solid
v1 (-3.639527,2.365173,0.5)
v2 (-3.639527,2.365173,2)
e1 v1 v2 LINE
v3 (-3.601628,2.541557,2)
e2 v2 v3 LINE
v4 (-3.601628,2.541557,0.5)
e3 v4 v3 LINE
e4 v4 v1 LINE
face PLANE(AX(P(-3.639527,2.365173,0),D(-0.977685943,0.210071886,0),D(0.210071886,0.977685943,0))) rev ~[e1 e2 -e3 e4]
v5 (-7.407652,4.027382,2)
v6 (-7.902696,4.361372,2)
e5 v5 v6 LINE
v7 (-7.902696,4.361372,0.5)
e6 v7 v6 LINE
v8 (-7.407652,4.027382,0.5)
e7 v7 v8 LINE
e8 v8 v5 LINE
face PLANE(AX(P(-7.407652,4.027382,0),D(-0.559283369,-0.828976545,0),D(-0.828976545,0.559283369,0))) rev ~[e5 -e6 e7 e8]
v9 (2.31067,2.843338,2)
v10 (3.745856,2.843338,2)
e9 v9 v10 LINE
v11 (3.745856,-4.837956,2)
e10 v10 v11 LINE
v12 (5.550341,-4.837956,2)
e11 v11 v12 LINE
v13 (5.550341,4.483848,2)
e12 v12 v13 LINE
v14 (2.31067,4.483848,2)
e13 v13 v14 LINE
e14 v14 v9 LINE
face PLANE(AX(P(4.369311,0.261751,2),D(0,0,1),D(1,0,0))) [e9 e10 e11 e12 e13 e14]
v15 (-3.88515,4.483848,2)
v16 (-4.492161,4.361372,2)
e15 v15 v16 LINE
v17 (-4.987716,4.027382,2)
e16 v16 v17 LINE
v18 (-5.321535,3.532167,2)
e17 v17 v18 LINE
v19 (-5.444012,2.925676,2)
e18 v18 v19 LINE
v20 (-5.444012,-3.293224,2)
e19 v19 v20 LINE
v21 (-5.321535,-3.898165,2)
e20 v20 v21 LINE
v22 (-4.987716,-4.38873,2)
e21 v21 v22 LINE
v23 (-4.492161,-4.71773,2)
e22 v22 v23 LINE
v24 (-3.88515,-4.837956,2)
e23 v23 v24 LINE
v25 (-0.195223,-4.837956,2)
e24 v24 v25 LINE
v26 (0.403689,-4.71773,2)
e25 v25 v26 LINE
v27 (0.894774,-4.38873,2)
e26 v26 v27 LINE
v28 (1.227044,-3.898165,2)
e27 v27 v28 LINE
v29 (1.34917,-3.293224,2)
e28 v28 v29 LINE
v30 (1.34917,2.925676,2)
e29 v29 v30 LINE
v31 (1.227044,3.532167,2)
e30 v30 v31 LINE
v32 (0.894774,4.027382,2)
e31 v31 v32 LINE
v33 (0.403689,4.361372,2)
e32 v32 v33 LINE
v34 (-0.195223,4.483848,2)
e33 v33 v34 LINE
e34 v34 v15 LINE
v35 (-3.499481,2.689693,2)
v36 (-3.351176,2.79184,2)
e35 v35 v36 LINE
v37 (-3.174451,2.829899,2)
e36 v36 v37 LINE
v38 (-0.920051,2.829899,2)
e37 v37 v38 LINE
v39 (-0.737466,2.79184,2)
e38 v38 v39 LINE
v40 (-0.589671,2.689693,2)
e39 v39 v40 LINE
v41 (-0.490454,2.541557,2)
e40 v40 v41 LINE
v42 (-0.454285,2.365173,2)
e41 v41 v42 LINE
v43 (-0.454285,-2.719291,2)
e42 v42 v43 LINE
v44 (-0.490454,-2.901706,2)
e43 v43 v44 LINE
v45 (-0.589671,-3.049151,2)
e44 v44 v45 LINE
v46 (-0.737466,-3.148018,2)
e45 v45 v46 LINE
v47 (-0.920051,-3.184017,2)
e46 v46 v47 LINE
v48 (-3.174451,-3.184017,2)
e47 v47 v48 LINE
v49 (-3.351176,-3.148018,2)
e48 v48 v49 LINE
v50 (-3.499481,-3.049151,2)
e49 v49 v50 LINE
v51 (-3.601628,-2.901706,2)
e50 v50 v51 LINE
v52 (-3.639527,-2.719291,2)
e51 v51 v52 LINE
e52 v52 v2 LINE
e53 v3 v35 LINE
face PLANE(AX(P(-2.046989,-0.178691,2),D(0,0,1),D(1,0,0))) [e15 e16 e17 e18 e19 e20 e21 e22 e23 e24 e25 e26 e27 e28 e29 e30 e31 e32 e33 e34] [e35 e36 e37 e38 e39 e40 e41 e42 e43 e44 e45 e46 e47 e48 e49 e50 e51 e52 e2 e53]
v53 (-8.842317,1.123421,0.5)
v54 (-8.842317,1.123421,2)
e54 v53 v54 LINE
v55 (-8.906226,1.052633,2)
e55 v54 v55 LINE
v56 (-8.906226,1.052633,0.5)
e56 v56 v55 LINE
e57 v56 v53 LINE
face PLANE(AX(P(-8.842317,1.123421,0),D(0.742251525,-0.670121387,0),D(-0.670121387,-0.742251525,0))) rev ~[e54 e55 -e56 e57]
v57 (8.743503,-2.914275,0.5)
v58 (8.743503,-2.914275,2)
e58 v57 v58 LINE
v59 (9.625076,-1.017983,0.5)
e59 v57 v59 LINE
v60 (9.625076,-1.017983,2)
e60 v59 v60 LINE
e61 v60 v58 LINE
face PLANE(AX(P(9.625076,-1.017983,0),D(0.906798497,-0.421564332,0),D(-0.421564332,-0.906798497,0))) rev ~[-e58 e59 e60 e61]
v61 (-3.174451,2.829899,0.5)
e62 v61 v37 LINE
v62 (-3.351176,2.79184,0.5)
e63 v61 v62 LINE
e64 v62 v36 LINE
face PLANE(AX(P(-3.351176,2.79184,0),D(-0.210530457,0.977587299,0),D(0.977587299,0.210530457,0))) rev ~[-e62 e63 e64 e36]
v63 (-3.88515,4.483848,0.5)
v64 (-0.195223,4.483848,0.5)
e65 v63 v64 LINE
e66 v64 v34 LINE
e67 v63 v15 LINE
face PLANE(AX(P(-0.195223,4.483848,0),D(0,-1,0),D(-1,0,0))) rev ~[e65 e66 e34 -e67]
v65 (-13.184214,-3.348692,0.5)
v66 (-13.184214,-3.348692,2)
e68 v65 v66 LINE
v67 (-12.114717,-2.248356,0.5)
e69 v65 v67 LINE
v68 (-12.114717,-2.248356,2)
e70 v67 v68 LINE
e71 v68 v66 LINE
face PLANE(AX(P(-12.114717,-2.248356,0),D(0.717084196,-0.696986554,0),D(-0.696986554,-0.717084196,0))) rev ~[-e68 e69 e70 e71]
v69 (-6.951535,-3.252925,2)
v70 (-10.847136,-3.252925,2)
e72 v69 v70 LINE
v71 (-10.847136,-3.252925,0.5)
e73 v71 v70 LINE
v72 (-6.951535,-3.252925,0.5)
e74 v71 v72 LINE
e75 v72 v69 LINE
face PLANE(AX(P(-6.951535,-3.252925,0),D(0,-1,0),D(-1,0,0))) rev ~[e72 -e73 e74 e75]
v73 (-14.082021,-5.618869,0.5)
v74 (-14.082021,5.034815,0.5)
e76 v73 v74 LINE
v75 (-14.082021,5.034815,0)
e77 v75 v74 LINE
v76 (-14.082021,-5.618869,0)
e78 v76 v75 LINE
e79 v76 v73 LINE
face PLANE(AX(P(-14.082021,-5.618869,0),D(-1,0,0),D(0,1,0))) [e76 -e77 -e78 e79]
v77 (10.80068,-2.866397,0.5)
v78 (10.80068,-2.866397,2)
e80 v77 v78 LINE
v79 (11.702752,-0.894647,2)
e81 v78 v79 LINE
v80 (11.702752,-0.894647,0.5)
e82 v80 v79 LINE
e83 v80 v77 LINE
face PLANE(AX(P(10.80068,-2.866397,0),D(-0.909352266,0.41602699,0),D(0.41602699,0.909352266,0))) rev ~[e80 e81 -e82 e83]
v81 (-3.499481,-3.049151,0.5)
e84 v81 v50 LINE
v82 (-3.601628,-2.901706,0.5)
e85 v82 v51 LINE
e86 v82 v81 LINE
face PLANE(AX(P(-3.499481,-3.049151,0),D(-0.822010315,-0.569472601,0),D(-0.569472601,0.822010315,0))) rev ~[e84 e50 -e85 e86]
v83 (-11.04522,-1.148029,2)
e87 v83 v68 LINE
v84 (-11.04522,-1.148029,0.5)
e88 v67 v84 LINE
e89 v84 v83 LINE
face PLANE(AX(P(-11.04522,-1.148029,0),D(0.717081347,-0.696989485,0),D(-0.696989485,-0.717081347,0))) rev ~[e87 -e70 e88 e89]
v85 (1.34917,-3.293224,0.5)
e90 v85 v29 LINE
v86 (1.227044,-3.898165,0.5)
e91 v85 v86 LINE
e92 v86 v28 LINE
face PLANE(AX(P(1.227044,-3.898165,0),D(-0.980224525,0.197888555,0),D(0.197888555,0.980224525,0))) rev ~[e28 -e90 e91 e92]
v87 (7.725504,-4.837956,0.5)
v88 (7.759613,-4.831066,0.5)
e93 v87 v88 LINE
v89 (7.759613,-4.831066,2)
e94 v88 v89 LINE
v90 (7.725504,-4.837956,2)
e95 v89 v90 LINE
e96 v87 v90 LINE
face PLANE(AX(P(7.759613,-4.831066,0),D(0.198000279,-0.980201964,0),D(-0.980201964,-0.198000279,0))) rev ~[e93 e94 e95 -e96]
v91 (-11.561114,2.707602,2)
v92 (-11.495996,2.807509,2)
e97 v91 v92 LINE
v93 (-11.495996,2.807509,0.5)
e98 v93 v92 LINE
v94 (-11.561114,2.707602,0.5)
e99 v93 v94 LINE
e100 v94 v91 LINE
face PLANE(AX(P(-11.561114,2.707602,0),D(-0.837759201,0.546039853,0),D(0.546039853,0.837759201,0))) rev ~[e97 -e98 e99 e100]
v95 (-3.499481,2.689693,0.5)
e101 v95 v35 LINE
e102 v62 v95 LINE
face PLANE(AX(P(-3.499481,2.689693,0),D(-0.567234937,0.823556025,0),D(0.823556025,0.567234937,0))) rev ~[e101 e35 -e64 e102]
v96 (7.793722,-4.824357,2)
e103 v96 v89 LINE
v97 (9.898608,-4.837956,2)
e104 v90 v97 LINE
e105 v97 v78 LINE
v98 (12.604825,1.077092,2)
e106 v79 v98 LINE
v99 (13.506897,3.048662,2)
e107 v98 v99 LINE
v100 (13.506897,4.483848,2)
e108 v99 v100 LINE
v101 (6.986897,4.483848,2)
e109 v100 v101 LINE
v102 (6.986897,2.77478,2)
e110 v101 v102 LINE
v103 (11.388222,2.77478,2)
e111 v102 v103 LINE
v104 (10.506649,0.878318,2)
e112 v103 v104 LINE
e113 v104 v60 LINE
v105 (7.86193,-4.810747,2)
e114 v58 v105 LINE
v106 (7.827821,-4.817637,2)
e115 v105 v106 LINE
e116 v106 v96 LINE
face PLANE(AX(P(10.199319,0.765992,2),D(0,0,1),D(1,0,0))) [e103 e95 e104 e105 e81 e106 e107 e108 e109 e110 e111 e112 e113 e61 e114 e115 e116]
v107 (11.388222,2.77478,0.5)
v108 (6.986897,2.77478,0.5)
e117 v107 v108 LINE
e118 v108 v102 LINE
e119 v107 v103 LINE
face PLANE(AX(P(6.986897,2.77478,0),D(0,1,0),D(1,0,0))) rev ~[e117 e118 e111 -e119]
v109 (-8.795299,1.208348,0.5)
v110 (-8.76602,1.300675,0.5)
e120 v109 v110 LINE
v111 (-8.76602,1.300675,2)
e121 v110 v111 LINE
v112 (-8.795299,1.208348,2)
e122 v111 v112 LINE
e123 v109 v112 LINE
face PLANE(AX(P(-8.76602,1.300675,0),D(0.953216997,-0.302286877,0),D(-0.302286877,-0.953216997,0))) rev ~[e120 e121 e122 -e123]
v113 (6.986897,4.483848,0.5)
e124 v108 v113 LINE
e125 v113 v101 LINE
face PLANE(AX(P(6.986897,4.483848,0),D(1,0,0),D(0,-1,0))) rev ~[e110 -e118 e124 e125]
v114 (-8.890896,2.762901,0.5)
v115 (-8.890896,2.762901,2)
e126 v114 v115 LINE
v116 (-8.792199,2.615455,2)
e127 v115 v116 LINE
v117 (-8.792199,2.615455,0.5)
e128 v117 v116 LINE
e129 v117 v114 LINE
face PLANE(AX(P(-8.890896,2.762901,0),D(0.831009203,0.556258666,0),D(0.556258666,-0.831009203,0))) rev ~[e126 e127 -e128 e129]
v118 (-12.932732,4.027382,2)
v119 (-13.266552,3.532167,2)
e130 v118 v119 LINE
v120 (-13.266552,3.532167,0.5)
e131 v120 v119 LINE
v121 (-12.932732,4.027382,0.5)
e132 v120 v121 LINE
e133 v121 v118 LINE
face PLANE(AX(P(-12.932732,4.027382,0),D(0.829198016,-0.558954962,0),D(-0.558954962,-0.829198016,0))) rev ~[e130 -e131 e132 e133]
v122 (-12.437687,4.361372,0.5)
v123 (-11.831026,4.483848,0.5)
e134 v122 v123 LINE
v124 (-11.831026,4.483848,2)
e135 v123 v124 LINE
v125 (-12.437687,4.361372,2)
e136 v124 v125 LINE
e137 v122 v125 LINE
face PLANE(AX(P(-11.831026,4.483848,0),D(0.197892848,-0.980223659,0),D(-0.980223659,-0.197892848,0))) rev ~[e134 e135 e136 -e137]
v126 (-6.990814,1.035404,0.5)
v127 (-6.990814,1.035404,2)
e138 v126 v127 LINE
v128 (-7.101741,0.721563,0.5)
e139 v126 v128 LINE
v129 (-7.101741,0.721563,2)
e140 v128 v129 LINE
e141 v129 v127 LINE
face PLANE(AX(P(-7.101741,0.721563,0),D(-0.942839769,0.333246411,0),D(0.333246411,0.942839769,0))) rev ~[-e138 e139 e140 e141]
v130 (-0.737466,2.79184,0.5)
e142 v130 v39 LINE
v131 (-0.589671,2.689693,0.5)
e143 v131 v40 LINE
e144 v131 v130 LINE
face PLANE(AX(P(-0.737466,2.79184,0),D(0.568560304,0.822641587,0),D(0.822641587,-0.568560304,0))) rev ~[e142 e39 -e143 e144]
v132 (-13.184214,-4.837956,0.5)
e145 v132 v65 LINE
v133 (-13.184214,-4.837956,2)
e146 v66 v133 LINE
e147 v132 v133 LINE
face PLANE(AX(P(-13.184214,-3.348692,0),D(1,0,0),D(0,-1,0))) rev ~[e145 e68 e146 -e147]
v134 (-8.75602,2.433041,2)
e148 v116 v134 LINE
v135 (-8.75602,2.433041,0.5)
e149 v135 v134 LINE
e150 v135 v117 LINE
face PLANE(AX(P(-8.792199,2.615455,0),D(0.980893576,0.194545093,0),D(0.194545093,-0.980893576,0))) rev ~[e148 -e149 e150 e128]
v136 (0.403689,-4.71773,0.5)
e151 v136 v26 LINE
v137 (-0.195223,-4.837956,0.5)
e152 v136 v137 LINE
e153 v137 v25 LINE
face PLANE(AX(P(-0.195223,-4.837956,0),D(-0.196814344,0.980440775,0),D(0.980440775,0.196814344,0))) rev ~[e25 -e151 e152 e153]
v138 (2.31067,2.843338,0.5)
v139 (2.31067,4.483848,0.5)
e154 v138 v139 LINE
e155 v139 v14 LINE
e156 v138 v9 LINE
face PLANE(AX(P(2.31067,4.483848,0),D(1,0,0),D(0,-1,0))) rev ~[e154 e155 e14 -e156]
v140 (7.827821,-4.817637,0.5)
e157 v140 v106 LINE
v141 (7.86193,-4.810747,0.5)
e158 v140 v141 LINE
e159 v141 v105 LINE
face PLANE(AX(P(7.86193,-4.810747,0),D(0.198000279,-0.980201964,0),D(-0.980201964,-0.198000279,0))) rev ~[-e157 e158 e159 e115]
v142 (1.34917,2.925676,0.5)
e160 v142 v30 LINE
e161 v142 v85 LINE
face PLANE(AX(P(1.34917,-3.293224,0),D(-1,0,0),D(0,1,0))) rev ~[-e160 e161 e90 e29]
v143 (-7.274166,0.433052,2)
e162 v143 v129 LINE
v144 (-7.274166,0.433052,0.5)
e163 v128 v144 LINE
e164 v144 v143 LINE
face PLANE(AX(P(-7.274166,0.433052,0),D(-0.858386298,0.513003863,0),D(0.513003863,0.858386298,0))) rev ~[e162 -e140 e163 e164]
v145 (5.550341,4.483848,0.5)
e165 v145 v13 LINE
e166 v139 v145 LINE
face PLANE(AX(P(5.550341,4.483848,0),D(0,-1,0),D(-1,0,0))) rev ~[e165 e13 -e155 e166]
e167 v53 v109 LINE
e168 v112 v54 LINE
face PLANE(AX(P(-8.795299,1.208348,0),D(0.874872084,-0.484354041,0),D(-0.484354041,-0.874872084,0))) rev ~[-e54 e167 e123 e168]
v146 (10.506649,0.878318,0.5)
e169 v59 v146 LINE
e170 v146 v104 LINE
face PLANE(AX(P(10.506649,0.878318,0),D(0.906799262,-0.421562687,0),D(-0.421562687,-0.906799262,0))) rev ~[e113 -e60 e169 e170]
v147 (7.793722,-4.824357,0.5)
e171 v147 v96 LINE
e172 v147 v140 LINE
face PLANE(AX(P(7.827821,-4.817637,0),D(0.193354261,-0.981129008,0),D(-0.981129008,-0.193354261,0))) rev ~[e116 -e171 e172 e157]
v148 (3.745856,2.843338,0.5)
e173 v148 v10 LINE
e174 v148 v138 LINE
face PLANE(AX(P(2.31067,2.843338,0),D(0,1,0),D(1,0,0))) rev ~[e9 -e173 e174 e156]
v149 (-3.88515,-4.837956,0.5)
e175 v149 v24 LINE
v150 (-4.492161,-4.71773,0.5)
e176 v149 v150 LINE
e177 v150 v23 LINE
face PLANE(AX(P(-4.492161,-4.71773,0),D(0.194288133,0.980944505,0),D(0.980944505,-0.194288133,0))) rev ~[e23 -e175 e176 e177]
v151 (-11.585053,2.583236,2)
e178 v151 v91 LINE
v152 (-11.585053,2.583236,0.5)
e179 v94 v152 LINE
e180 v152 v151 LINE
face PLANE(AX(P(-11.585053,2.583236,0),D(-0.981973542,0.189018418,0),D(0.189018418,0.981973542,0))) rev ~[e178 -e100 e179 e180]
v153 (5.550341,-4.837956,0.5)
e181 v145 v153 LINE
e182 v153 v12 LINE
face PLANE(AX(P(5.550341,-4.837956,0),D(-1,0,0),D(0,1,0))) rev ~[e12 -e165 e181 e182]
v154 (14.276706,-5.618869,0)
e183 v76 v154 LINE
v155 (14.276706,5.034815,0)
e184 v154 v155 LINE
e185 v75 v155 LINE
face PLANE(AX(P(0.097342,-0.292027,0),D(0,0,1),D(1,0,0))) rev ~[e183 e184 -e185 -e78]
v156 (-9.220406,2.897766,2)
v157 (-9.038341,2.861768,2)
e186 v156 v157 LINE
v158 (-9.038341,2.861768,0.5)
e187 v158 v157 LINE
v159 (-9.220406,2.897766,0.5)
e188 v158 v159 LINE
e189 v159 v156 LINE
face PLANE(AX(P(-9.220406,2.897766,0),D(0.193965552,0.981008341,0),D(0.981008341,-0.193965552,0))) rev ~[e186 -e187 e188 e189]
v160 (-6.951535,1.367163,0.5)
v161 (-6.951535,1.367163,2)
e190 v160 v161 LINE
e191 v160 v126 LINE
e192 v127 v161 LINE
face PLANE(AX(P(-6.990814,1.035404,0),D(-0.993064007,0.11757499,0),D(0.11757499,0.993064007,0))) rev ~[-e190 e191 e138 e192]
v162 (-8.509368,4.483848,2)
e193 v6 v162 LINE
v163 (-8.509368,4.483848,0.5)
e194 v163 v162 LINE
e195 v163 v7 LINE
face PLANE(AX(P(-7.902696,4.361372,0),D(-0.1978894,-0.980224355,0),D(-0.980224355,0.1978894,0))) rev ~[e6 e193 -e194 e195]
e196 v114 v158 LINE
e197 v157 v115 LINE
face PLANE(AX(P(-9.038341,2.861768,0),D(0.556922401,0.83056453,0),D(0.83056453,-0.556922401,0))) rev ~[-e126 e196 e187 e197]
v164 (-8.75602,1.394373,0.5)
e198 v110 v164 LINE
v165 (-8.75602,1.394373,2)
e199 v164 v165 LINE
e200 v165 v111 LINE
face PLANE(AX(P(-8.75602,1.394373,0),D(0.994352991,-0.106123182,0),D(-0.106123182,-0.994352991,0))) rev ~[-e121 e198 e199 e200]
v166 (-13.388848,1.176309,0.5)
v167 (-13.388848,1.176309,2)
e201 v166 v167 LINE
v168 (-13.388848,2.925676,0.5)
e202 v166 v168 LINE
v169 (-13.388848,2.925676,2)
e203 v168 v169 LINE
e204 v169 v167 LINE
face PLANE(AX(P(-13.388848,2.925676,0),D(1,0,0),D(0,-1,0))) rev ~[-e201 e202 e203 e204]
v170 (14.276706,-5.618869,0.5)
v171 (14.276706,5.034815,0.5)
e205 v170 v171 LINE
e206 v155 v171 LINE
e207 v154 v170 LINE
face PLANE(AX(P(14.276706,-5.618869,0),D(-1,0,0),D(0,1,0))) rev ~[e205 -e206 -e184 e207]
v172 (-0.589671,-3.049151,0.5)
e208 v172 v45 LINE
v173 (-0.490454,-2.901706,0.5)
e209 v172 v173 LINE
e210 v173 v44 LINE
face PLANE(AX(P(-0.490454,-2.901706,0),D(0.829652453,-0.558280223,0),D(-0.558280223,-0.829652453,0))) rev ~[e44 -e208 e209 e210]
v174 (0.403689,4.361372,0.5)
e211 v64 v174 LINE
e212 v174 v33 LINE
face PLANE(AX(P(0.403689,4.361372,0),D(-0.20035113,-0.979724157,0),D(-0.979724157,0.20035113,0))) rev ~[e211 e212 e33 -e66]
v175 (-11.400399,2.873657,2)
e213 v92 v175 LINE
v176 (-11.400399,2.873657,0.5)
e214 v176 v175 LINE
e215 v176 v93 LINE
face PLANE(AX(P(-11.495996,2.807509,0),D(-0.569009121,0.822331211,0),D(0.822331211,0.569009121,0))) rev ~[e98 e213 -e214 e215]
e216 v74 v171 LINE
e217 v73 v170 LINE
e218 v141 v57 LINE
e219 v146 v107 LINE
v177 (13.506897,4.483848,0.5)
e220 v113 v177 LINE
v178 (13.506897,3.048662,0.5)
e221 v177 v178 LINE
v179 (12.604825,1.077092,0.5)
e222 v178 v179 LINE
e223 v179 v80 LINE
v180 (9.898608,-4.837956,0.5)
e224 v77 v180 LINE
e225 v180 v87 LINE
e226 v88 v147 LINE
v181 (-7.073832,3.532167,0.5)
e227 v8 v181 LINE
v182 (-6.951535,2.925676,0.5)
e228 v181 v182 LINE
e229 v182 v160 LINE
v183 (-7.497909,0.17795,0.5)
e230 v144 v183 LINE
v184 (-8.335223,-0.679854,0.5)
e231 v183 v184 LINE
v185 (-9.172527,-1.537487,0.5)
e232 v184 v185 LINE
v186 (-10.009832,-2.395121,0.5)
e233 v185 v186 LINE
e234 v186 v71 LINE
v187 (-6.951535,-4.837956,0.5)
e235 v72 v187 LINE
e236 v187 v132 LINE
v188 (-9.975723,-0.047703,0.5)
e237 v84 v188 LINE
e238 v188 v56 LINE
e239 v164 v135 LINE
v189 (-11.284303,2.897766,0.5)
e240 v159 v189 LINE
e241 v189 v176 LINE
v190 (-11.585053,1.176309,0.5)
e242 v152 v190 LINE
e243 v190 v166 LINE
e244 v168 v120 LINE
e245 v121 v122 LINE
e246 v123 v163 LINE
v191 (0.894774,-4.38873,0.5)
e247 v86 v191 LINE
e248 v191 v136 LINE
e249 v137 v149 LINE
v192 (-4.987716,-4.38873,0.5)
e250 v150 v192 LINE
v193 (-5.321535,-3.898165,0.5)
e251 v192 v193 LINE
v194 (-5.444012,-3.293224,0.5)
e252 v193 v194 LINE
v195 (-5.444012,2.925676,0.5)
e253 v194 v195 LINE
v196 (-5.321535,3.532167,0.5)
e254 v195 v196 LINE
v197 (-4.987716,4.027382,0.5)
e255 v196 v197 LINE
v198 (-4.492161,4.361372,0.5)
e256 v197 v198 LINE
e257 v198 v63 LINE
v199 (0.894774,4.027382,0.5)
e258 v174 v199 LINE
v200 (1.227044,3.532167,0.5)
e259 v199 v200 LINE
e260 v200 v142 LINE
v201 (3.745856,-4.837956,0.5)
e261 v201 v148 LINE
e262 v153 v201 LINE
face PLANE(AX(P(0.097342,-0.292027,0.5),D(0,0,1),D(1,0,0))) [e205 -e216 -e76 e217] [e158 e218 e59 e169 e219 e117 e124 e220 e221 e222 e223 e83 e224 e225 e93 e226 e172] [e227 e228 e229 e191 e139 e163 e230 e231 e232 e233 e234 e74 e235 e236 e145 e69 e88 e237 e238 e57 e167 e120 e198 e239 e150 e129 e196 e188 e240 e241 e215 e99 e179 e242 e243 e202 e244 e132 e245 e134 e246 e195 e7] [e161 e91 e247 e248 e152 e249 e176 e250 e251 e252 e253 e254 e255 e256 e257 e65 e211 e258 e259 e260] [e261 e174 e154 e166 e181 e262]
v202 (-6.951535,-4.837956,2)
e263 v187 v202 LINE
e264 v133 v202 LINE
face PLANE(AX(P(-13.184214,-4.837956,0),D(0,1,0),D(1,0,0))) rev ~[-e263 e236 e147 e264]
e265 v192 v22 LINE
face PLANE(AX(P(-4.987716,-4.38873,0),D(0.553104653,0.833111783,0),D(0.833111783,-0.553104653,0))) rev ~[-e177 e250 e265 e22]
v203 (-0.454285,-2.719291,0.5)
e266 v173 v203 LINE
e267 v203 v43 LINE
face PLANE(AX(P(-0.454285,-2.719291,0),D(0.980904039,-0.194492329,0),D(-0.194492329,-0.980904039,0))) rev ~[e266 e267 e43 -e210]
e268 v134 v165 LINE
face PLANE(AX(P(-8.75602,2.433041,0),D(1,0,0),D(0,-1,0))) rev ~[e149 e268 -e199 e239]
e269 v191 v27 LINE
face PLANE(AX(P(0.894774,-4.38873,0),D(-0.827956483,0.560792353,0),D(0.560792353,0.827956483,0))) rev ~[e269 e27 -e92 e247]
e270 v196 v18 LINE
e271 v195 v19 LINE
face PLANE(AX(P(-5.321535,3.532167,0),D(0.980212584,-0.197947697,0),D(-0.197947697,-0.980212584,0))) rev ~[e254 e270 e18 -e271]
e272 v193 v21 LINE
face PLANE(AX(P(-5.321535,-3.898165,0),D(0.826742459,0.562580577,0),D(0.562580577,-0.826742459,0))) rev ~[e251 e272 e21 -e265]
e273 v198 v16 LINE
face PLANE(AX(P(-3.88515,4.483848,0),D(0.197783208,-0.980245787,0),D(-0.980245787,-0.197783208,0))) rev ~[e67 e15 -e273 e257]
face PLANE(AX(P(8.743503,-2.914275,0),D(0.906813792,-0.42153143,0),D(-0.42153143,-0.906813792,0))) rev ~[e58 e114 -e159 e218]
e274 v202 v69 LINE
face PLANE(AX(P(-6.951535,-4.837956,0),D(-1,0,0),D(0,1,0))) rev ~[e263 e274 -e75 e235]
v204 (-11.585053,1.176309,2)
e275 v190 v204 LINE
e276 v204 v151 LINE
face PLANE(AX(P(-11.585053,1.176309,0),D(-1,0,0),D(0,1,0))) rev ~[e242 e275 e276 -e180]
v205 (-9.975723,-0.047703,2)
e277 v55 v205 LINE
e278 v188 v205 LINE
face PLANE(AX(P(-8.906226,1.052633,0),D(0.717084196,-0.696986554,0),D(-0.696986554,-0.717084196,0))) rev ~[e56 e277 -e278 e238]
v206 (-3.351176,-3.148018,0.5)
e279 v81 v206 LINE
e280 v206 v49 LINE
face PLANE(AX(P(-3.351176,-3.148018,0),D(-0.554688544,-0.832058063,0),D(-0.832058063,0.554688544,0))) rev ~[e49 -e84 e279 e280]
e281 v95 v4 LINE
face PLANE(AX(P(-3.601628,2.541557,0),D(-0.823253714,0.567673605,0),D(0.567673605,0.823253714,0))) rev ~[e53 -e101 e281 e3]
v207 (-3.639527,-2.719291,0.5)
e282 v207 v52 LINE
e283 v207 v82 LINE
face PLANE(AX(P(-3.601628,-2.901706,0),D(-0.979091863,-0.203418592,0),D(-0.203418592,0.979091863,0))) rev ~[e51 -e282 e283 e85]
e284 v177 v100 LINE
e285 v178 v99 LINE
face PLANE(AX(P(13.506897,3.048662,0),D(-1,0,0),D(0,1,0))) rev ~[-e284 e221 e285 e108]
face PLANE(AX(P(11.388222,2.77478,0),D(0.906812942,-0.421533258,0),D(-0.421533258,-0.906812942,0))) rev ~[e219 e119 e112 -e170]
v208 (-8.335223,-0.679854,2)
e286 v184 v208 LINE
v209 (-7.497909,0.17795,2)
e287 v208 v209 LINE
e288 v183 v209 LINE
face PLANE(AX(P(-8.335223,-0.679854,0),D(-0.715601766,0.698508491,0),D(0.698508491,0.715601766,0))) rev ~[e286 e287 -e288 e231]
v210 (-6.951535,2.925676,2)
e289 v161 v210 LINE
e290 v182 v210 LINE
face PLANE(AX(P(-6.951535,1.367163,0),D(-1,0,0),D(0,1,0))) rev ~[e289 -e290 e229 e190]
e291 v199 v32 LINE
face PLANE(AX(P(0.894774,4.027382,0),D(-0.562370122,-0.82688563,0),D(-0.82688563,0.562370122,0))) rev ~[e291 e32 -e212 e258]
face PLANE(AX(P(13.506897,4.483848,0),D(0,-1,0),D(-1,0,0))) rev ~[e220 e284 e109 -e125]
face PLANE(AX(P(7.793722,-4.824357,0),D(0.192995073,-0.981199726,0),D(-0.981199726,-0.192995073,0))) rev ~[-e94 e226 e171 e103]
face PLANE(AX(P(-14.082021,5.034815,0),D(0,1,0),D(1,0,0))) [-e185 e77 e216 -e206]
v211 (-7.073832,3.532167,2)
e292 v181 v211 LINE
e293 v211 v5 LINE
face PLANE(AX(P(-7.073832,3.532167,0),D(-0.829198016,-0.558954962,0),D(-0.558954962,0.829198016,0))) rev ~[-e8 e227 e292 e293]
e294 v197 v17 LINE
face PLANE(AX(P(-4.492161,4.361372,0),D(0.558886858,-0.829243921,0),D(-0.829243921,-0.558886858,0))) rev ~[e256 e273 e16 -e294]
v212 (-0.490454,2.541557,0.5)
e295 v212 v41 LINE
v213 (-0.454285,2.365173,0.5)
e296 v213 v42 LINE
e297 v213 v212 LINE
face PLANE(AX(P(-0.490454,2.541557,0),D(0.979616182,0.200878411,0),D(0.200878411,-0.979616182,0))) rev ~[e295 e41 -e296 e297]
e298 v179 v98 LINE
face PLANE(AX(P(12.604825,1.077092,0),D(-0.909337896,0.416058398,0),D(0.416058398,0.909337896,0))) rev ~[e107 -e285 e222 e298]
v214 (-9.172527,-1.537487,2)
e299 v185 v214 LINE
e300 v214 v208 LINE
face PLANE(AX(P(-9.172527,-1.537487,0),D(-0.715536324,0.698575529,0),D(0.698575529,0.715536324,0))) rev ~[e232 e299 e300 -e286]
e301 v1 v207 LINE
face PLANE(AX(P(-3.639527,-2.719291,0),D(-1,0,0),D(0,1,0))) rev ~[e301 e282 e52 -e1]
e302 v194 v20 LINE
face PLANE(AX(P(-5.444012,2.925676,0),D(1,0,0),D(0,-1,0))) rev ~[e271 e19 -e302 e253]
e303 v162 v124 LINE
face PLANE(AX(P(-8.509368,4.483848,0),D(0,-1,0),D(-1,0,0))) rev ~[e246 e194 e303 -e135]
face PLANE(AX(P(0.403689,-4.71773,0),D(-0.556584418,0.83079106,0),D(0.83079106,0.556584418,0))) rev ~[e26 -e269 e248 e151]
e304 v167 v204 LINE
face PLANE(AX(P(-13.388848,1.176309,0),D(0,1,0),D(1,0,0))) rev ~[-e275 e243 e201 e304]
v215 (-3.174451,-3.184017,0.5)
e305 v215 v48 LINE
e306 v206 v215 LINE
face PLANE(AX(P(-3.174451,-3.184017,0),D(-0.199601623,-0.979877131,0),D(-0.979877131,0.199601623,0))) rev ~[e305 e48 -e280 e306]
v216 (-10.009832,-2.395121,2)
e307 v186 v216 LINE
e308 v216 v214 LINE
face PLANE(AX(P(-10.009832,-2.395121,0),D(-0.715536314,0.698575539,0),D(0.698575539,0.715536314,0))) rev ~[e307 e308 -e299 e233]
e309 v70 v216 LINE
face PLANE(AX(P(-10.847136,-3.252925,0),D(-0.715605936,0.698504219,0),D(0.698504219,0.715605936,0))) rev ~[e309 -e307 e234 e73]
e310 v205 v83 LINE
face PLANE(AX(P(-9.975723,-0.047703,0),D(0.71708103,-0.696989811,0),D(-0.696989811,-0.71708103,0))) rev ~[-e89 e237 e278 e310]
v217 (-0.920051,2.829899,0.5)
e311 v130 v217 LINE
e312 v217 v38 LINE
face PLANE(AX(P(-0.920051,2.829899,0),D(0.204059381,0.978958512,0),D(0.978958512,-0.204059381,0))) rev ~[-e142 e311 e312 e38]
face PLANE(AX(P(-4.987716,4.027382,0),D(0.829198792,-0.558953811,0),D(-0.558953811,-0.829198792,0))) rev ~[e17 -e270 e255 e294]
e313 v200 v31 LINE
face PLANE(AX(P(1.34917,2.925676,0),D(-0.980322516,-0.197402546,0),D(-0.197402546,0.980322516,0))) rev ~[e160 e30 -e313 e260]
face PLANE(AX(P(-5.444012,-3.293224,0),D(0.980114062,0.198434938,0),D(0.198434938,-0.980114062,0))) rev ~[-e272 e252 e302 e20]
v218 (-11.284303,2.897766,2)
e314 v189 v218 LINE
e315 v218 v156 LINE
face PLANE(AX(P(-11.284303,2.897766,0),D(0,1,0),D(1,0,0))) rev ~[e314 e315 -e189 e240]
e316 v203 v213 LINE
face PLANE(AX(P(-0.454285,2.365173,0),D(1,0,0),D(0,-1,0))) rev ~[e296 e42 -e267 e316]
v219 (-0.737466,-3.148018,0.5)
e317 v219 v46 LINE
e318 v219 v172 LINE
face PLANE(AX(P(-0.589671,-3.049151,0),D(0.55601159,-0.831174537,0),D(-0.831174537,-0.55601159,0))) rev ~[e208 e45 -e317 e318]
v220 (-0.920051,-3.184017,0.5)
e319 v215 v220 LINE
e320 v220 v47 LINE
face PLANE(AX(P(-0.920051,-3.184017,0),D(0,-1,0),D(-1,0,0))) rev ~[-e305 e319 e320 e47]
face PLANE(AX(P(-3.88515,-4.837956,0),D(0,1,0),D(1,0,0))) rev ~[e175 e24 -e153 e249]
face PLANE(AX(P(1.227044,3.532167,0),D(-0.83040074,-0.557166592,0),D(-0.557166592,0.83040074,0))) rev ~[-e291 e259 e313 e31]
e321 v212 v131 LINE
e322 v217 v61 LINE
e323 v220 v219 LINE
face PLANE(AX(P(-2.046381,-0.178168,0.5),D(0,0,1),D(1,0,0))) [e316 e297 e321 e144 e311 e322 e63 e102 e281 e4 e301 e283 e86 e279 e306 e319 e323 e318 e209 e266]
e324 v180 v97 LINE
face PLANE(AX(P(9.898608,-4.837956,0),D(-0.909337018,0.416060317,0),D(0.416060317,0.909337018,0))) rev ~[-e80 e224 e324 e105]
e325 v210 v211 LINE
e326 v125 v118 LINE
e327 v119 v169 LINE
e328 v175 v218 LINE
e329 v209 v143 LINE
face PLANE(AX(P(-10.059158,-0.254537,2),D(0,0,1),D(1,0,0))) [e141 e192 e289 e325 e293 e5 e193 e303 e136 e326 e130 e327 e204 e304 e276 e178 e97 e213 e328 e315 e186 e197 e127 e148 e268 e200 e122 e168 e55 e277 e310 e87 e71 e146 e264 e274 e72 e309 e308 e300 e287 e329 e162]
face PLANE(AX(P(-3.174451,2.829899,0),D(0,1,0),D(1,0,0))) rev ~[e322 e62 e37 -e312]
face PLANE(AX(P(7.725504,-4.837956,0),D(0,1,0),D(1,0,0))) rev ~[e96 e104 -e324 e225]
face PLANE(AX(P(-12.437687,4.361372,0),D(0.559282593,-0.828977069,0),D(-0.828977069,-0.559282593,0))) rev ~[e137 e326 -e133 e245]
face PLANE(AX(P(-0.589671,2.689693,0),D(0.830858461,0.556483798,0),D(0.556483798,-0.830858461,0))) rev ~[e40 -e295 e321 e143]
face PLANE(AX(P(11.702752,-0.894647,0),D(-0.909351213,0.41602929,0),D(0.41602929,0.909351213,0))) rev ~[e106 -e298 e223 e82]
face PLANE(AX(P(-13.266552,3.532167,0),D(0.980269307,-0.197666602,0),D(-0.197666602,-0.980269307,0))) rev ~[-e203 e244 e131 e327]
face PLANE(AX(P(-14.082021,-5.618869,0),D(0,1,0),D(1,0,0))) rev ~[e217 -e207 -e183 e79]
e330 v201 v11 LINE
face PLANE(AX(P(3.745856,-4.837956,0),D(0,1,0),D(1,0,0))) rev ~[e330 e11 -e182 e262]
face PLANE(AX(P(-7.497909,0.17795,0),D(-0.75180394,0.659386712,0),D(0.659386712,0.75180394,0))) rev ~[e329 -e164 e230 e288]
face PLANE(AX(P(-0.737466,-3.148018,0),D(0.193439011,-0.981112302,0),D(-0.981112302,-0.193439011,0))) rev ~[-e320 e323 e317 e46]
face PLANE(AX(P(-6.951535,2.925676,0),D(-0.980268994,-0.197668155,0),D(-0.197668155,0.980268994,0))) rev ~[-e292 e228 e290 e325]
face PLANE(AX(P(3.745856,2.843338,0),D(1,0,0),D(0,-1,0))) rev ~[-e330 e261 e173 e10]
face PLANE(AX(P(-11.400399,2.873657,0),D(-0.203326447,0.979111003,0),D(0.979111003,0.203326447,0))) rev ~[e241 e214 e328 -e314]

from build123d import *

# Parameters (mm, degrees)
F0_W     = 28.358727
F0_H     = 10.653684
F1_DEPTH = 0.5
F2_DEPTH = 2


with BuildPart() as f1:
    # F0 (on Top) → F1 (new body)
    with BuildSketch(Plane.XY):
        with Locations((0.097342, -0.292027)):
            Rectangle(F0_W, F0_H)
        Polygon((-12.437687, 4.361372), (-11.831026, 4.483848), (-11.000611, 4.483848), (-10.170197, 4.483848), (-9.339782, 4.483848), (-8.509368, 4.483848), (-7.902696, 4.361372), (-7.407652, 4.027382), (-7.073832, 3.532167), (-6.951535, 2.925676), (-6.951535, 2.536048), (-6.951535, 2.14642), (-6.951535, 1.756791), (-6.951535, 1.367163), (-6.990814, 1.035404), (-7.101741, 0.721563), (-7.274166, 0.433052), (-7.497909, 0.17795), (-8.335223, -0.679854), (-9.172527, -1.537487), (-10.009832, -2.395121), (-10.847136, -3.252925), (-9.873236, -3.252925), (-8.899336, -3.252925), (-7.925436, -3.252925), (-6.951535, -3.252925), (-6.951535, -3.649093), (-6.951535, -4.045441), (-6.951535, -4.441788), (-6.951535, -4.837956), (-8.509708, -4.837956), (-10.06788, -4.837956), (-11.626052, -4.837956), (-13.184214, -4.837956), (-13.184214, -4.465558), (-13.184214, -4.093329), (-13.184214, -3.72109), (-13.184214, -3.348692), (-12.114717, -2.248356), (-11.04522, -1.148029), (-9.975723, -0.047703), (-8.906226, 1.052633), (-8.842317, 1.123421), (-8.795299, 1.208348), (-8.76602, 1.300675), (-8.75602, 1.394373), (-8.75602, 1.654125), (-8.75602, 1.913707), (-8.75602, 2.173289), (-8.75602, 2.433041), (-8.792199, 2.615455), (-8.890896, 2.762901), (-9.038341, 2.861768), (-9.220406, 2.897766), (-9.73647, 2.897766), (-10.252354, 2.897766), (-10.768248, 2.897766), (-11.284303, 2.897766), (-11.400399, 2.873657), (-11.495996, 2.807509), (-11.561114, 2.707602), (-11.585053, 2.583236), (-11.585053, 2.231507), (-11.585053, 1.879778), (-11.585053, 1.528038), (-11.585053, 1.176309), (-12.036, 1.176309), (-12.486956, 1.176309), (-12.937902, 1.176309), (-13.388848, 1.176309), (-13.388848, 1.613646), (-13.388848, 2.050992), (-13.388848, 2.488329), (-13.388848, 2.925676), (-13.266552, 3.532167), (-12.932732, 4.027382), align=None, mode=Mode.SUBTRACT)
        Polygon((-4.492161, 4.361372), (-3.88515, 4.483848), (-2.962578, 4.483848), (-2.040186, 4.483848), (-1.117784, 4.483848), (-0.195223, 4.483848), (0.403689, 4.361372), (0.894774, 4.027382), (1.227044, 3.532167), (1.34917, 2.925676), (1.34917, 1.370953), (1.34917, -0.183779), (1.34917, -1.738501), (1.34917, -3.293224), (1.227044, -3.898165), (0.894774, -4.38873), (0.403689, -4.71773), (-0.195223, -4.837956), (-1.117784, -4.837956), (-2.040186, -4.837956), (-2.962578, -4.837956), (-3.88515, -4.837956), (-4.492161, -4.71773), (-4.987716, -4.38873), (-5.321535, -3.898165), (-5.444012, -3.293224), (-5.444012, -1.738501), (-5.444012, -0.183779), (-5.444012, 1.370953), (-5.444012, 2.925676), (-5.321535, 3.532167), (-4.987716, 4.027382), align=None, mode=Mode.SUBTRACT)
        Polygon((2.31067, 4.07372), (2.31067, 4.483848), (3.120586, 4.483848), (3.930501, 4.483848), (4.740416, 4.483848), (5.550341, 4.483848), (5.550341, 2.153309), (5.550341, -0.177059), (5.550341, -2.507428), (5.550341, -4.837956), (5.099215, -4.837956), (4.648099, -4.837956), (4.196973, -4.837956), (3.745856, -4.837956), (3.745856, -2.917725), (3.745856, -0.997314), (3.745856, 0.923097), (3.745856, 2.843338), (3.387057, 2.843338), (3.028258, 2.843338), (2.669459, 2.843338), (2.31067, 2.843338), (2.31067, 3.253466), (2.31067, 3.663593), align=None, mode=Mode.SUBTRACT)
        Polygon((6.986897, 4.056661), (6.986897, 4.483848), (8.616897, 4.483848), (10.246897, 4.483848), (11.876897, 4.483848), (13.506897, 4.483848), (13.506897, 4.125049), (13.506897, 3.76625), (13.506897, 3.407451), (13.506897, 3.048662), (12.604825, 1.077092), (11.702752, -0.894647), (10.80068, -2.866397), (9.898608, -4.837956), (9.355334, -4.837956), (8.812061, -4.837956), (8.268778, -4.837956), (7.725504, -4.837956), (7.759613, -4.831066), (7.793722, -4.824357), (7.827821, -4.817637), (7.86193, -4.810747), (8.743503, -2.914275), (9.625076, -1.017983), (10.506649, 0.878318), (11.388222, 2.77478), (10.287896, 2.77478), (9.187559, 2.77478), (8.087233, 2.77478), (6.986897, 2.77478), (6.986897, 3.201957), (6.986897, 3.629314), align=None, mode=Mode.SUBTRACT)
        Polygon((-3.639527, -1.44809), (-3.639527, -2.719291), (-3.601628, -2.901706), (-3.499481, -3.049151), (-3.351176, -3.148018), (-3.174451, -3.184017), (-2.610849, -3.184017), (-2.047246, -3.184017), (-1.483643, -3.184017), (-0.920051, -3.184017), (-0.737466, -3.148018), (-0.589671, -3.049151), (-0.490454, -2.901706), (-0.454285, -2.719291), (-0.454285, -1.44809), (-0.454285, -0.177059), (-0.454285, 1.093972), (-0.454285, 2.365173), (-0.490454, 2.541557), (-0.589671, 2.689693), (-0.737466, 2.79184), (-0.920051, 2.829899), (-1.483643, 2.829899), (-2.047246, 2.829899), (-2.610849, 2.829899), (-3.174451, 2.829899), (-3.351176, 2.79184), (-3.499481, 2.689693), (-3.601628, 2.541557), (-3.639527, 2.365173), (-3.639527, 1.093972), (-3.639527, -0.177059), align=None)
    extrude(amount=F1_DEPTH)

    # F0 (on Top) → F2 (join)
    with BuildSketch(Plane.XY):
        Polygon((-11.000611, 4.483848), (-11.831026, 4.483848), (-12.437687, 4.361372), (-12.932732, 4.027382), (-13.266552, 3.532167), (-13.388848, 2.925676), (-13.388848, 2.488329), (-13.388848, 2.050992), (-13.388848, 1.613646), (-13.388848, 1.176309), (-12.937902, 1.176309), (-12.486956, 1.176309), (-12.036, 1.176309), (-11.585053, 1.176309), (-11.585053, 1.528038), (-11.585053, 1.879778), (-11.585053, 2.231507), (-11.585053, 2.583236), (-11.561114, 2.707602), (-11.495996, 2.807509), (-11.400399, 2.873657), (-11.284303, 2.897766), (-10.768248, 2.897766), (-10.252354, 2.897766), (-9.73647, 2.897766), (-9.220406, 2.897766), (-9.038341, 2.861768), (-8.890896, 2.762901), (-8.792199, 2.615455), (-8.75602, 2.433041), (-8.75602, 2.173289), (-8.75602, 1.913707), (-8.75602, 1.654125), (-8.75602, 1.394373), (-8.76602, 1.300675), (-8.795299, 1.208348), (-8.842317, 1.123421), (-8.906226, 1.052633), (-9.975723, -0.047703), (-11.04522, -1.148029), (-12.114717, -2.248356), (-13.184214, -3.348692), (-13.184214, -3.72109), (-13.184214, -4.093329), (-13.184214, -4.465558), (-13.184214, -4.837956), (-11.626052, -4.837956), (-10.06788, -4.837956), (-8.509708, -4.837956), (-6.951535, -4.837956), (-6.951535, -4.441788), (-6.951535, -4.045441), (-6.951535, -3.649093), (-6.951535, -3.252925), (-7.925436, -3.252925), (-8.899336, -3.252925), (-9.873236, -3.252925), (-10.847136, -3.252925), (-10.009832, -2.395121), (-9.172527, -1.537487), (-8.335223, -0.679854), (-7.497909, 0.17795), (-7.274166, 0.433052), (-7.101741, 0.721563), (-6.990814, 1.035404), (-6.951535, 1.367163), (-6.951535, 1.756791), (-6.951535, 2.14642), (-6.951535, 2.536048), (-6.951535, 2.925676), (-7.073832, 3.532167), (-7.407652, 4.027382), (-7.902696, 4.361372), (-8.509368, 4.483848), (-9.339782, 4.483848), (-10.170197, 4.483848), align=None)
        Polygon((-2.962578, 4.483848), (-3.88515, 4.483848), (-4.492161, 4.361372), (-4.987716, 4.027382), (-5.321535, 3.532167), (-5.444012, 2.925676), (-5.444012, 1.370953), (-5.444012, -0.183779), (-5.444012, -1.738501), (-5.444012, -3.293224), (-5.321535, -3.898165), (-4.987716, -4.38873), (-4.492161, -4.71773), (-3.88515, -4.837956), (-2.962578, -4.837956), (-2.040186, -4.837956), (-1.117784, -4.837956), (-0.195223, -4.837956), (0.403689, -4.71773), (0.894774, -4.38873), (1.227044, -3.898165), (1.34917, -3.293224), (1.34917, -1.738501), (1.34917, -0.183779), (1.34917, 1.370953), (1.34917, 2.925676), (1.227044, 3.532167), (0.894774, 4.027382), (0.403689, 4.361372), (-0.195223, 4.483848), (-1.117784, 4.483848), (-2.040186, 4.483848), align=None)
        Polygon((-3.601628, -2.901706), (-3.639527, -2.719291), (-3.639527, -1.44809), (-3.639527, -0.177059), (-3.639527, 1.093972), (-3.639527, 2.365173), (-3.601628, 2.541557), (-3.499481, 2.689693), (-3.351176, 2.79184), (-3.174451, 2.829899), (-2.610849, 2.829899), (-2.047246, 2.829899), (-1.483643, 2.829899), (-0.920051, 2.829899), (-0.737466, 2.79184), (-0.589671, 2.689693), (-0.490454, 2.541557), (-0.454285, 2.365173), (-0.454285, 1.093972), (-0.454285, -0.177059), (-0.454285, -1.44809), (-0.454285, -2.719291), (-0.490454, -2.901706), (-0.589671, -3.049151), (-0.737466, -3.148018), (-0.920051, -3.184017), (-1.483643, -3.184017), (-2.047246, -3.184017), (-2.610849, -3.184017), (-3.174451, -3.184017), (-3.351176, -3.148018), (-3.499481, -3.049151), align=None, mode=Mode.SUBTRACT)
        Polygon((3.120586, 4.483848), (2.31067, 4.483848), (2.31067, 4.07372), (2.31067, 3.663593), (2.31067, 3.253466), (2.31067, 2.843338), (2.669459, 2.843338), (3.028258, 2.843338), (3.387057, 2.843338), (3.745856, 2.843338), (3.745856, 0.923097), (3.745856, -0.997314), (3.745856, -2.917725), (3.745856, -4.837956), (4.196973, -4.837956), (4.648099, -4.837956), (5.099215, -4.837956), (5.550341, -4.837956), (5.550341, -2.507428), (5.550341, -0.177059), (5.550341, 2.153309), (5.550341, 4.483848), (4.740416, 4.483848), (3.930501, 4.483848), align=None)
        Polygon((8.616897, 4.483848), (6.986897, 4.483848), (6.986897, 4.056661), (6.986897, 3.629314), (6.986897, 3.201957), (6.986897, 2.77478), (8.087233, 2.77478), (9.187559, 2.77478), (10.287896, 2.77478), (11.388222, 2.77478), (10.506649, 0.878318), (9.625076, -1.017983), (8.743503, -2.914275), (7.86193, -4.810747), (7.827821, -4.817637), (7.793722, -4.824357), (7.759613, -4.831066), (7.725504, -4.837956), (8.268778, -4.837956), (8.812061, -4.837956), (9.355334, -4.837956), (9.898608, -4.837956), (10.80068, -2.866397), (11.702752, -0.894647), (12.604825, 1.077092), (13.506897, 3.048662), (13.506897, 3.407451), (13.506897, 3.76625), (13.506897, 4.125049), (13.506897, 4.483848), (11.876897, 4.483848), (10.246897, 4.483848), align=None)
    extrude(amount=F2_DEPTH)


solid = f1.part
